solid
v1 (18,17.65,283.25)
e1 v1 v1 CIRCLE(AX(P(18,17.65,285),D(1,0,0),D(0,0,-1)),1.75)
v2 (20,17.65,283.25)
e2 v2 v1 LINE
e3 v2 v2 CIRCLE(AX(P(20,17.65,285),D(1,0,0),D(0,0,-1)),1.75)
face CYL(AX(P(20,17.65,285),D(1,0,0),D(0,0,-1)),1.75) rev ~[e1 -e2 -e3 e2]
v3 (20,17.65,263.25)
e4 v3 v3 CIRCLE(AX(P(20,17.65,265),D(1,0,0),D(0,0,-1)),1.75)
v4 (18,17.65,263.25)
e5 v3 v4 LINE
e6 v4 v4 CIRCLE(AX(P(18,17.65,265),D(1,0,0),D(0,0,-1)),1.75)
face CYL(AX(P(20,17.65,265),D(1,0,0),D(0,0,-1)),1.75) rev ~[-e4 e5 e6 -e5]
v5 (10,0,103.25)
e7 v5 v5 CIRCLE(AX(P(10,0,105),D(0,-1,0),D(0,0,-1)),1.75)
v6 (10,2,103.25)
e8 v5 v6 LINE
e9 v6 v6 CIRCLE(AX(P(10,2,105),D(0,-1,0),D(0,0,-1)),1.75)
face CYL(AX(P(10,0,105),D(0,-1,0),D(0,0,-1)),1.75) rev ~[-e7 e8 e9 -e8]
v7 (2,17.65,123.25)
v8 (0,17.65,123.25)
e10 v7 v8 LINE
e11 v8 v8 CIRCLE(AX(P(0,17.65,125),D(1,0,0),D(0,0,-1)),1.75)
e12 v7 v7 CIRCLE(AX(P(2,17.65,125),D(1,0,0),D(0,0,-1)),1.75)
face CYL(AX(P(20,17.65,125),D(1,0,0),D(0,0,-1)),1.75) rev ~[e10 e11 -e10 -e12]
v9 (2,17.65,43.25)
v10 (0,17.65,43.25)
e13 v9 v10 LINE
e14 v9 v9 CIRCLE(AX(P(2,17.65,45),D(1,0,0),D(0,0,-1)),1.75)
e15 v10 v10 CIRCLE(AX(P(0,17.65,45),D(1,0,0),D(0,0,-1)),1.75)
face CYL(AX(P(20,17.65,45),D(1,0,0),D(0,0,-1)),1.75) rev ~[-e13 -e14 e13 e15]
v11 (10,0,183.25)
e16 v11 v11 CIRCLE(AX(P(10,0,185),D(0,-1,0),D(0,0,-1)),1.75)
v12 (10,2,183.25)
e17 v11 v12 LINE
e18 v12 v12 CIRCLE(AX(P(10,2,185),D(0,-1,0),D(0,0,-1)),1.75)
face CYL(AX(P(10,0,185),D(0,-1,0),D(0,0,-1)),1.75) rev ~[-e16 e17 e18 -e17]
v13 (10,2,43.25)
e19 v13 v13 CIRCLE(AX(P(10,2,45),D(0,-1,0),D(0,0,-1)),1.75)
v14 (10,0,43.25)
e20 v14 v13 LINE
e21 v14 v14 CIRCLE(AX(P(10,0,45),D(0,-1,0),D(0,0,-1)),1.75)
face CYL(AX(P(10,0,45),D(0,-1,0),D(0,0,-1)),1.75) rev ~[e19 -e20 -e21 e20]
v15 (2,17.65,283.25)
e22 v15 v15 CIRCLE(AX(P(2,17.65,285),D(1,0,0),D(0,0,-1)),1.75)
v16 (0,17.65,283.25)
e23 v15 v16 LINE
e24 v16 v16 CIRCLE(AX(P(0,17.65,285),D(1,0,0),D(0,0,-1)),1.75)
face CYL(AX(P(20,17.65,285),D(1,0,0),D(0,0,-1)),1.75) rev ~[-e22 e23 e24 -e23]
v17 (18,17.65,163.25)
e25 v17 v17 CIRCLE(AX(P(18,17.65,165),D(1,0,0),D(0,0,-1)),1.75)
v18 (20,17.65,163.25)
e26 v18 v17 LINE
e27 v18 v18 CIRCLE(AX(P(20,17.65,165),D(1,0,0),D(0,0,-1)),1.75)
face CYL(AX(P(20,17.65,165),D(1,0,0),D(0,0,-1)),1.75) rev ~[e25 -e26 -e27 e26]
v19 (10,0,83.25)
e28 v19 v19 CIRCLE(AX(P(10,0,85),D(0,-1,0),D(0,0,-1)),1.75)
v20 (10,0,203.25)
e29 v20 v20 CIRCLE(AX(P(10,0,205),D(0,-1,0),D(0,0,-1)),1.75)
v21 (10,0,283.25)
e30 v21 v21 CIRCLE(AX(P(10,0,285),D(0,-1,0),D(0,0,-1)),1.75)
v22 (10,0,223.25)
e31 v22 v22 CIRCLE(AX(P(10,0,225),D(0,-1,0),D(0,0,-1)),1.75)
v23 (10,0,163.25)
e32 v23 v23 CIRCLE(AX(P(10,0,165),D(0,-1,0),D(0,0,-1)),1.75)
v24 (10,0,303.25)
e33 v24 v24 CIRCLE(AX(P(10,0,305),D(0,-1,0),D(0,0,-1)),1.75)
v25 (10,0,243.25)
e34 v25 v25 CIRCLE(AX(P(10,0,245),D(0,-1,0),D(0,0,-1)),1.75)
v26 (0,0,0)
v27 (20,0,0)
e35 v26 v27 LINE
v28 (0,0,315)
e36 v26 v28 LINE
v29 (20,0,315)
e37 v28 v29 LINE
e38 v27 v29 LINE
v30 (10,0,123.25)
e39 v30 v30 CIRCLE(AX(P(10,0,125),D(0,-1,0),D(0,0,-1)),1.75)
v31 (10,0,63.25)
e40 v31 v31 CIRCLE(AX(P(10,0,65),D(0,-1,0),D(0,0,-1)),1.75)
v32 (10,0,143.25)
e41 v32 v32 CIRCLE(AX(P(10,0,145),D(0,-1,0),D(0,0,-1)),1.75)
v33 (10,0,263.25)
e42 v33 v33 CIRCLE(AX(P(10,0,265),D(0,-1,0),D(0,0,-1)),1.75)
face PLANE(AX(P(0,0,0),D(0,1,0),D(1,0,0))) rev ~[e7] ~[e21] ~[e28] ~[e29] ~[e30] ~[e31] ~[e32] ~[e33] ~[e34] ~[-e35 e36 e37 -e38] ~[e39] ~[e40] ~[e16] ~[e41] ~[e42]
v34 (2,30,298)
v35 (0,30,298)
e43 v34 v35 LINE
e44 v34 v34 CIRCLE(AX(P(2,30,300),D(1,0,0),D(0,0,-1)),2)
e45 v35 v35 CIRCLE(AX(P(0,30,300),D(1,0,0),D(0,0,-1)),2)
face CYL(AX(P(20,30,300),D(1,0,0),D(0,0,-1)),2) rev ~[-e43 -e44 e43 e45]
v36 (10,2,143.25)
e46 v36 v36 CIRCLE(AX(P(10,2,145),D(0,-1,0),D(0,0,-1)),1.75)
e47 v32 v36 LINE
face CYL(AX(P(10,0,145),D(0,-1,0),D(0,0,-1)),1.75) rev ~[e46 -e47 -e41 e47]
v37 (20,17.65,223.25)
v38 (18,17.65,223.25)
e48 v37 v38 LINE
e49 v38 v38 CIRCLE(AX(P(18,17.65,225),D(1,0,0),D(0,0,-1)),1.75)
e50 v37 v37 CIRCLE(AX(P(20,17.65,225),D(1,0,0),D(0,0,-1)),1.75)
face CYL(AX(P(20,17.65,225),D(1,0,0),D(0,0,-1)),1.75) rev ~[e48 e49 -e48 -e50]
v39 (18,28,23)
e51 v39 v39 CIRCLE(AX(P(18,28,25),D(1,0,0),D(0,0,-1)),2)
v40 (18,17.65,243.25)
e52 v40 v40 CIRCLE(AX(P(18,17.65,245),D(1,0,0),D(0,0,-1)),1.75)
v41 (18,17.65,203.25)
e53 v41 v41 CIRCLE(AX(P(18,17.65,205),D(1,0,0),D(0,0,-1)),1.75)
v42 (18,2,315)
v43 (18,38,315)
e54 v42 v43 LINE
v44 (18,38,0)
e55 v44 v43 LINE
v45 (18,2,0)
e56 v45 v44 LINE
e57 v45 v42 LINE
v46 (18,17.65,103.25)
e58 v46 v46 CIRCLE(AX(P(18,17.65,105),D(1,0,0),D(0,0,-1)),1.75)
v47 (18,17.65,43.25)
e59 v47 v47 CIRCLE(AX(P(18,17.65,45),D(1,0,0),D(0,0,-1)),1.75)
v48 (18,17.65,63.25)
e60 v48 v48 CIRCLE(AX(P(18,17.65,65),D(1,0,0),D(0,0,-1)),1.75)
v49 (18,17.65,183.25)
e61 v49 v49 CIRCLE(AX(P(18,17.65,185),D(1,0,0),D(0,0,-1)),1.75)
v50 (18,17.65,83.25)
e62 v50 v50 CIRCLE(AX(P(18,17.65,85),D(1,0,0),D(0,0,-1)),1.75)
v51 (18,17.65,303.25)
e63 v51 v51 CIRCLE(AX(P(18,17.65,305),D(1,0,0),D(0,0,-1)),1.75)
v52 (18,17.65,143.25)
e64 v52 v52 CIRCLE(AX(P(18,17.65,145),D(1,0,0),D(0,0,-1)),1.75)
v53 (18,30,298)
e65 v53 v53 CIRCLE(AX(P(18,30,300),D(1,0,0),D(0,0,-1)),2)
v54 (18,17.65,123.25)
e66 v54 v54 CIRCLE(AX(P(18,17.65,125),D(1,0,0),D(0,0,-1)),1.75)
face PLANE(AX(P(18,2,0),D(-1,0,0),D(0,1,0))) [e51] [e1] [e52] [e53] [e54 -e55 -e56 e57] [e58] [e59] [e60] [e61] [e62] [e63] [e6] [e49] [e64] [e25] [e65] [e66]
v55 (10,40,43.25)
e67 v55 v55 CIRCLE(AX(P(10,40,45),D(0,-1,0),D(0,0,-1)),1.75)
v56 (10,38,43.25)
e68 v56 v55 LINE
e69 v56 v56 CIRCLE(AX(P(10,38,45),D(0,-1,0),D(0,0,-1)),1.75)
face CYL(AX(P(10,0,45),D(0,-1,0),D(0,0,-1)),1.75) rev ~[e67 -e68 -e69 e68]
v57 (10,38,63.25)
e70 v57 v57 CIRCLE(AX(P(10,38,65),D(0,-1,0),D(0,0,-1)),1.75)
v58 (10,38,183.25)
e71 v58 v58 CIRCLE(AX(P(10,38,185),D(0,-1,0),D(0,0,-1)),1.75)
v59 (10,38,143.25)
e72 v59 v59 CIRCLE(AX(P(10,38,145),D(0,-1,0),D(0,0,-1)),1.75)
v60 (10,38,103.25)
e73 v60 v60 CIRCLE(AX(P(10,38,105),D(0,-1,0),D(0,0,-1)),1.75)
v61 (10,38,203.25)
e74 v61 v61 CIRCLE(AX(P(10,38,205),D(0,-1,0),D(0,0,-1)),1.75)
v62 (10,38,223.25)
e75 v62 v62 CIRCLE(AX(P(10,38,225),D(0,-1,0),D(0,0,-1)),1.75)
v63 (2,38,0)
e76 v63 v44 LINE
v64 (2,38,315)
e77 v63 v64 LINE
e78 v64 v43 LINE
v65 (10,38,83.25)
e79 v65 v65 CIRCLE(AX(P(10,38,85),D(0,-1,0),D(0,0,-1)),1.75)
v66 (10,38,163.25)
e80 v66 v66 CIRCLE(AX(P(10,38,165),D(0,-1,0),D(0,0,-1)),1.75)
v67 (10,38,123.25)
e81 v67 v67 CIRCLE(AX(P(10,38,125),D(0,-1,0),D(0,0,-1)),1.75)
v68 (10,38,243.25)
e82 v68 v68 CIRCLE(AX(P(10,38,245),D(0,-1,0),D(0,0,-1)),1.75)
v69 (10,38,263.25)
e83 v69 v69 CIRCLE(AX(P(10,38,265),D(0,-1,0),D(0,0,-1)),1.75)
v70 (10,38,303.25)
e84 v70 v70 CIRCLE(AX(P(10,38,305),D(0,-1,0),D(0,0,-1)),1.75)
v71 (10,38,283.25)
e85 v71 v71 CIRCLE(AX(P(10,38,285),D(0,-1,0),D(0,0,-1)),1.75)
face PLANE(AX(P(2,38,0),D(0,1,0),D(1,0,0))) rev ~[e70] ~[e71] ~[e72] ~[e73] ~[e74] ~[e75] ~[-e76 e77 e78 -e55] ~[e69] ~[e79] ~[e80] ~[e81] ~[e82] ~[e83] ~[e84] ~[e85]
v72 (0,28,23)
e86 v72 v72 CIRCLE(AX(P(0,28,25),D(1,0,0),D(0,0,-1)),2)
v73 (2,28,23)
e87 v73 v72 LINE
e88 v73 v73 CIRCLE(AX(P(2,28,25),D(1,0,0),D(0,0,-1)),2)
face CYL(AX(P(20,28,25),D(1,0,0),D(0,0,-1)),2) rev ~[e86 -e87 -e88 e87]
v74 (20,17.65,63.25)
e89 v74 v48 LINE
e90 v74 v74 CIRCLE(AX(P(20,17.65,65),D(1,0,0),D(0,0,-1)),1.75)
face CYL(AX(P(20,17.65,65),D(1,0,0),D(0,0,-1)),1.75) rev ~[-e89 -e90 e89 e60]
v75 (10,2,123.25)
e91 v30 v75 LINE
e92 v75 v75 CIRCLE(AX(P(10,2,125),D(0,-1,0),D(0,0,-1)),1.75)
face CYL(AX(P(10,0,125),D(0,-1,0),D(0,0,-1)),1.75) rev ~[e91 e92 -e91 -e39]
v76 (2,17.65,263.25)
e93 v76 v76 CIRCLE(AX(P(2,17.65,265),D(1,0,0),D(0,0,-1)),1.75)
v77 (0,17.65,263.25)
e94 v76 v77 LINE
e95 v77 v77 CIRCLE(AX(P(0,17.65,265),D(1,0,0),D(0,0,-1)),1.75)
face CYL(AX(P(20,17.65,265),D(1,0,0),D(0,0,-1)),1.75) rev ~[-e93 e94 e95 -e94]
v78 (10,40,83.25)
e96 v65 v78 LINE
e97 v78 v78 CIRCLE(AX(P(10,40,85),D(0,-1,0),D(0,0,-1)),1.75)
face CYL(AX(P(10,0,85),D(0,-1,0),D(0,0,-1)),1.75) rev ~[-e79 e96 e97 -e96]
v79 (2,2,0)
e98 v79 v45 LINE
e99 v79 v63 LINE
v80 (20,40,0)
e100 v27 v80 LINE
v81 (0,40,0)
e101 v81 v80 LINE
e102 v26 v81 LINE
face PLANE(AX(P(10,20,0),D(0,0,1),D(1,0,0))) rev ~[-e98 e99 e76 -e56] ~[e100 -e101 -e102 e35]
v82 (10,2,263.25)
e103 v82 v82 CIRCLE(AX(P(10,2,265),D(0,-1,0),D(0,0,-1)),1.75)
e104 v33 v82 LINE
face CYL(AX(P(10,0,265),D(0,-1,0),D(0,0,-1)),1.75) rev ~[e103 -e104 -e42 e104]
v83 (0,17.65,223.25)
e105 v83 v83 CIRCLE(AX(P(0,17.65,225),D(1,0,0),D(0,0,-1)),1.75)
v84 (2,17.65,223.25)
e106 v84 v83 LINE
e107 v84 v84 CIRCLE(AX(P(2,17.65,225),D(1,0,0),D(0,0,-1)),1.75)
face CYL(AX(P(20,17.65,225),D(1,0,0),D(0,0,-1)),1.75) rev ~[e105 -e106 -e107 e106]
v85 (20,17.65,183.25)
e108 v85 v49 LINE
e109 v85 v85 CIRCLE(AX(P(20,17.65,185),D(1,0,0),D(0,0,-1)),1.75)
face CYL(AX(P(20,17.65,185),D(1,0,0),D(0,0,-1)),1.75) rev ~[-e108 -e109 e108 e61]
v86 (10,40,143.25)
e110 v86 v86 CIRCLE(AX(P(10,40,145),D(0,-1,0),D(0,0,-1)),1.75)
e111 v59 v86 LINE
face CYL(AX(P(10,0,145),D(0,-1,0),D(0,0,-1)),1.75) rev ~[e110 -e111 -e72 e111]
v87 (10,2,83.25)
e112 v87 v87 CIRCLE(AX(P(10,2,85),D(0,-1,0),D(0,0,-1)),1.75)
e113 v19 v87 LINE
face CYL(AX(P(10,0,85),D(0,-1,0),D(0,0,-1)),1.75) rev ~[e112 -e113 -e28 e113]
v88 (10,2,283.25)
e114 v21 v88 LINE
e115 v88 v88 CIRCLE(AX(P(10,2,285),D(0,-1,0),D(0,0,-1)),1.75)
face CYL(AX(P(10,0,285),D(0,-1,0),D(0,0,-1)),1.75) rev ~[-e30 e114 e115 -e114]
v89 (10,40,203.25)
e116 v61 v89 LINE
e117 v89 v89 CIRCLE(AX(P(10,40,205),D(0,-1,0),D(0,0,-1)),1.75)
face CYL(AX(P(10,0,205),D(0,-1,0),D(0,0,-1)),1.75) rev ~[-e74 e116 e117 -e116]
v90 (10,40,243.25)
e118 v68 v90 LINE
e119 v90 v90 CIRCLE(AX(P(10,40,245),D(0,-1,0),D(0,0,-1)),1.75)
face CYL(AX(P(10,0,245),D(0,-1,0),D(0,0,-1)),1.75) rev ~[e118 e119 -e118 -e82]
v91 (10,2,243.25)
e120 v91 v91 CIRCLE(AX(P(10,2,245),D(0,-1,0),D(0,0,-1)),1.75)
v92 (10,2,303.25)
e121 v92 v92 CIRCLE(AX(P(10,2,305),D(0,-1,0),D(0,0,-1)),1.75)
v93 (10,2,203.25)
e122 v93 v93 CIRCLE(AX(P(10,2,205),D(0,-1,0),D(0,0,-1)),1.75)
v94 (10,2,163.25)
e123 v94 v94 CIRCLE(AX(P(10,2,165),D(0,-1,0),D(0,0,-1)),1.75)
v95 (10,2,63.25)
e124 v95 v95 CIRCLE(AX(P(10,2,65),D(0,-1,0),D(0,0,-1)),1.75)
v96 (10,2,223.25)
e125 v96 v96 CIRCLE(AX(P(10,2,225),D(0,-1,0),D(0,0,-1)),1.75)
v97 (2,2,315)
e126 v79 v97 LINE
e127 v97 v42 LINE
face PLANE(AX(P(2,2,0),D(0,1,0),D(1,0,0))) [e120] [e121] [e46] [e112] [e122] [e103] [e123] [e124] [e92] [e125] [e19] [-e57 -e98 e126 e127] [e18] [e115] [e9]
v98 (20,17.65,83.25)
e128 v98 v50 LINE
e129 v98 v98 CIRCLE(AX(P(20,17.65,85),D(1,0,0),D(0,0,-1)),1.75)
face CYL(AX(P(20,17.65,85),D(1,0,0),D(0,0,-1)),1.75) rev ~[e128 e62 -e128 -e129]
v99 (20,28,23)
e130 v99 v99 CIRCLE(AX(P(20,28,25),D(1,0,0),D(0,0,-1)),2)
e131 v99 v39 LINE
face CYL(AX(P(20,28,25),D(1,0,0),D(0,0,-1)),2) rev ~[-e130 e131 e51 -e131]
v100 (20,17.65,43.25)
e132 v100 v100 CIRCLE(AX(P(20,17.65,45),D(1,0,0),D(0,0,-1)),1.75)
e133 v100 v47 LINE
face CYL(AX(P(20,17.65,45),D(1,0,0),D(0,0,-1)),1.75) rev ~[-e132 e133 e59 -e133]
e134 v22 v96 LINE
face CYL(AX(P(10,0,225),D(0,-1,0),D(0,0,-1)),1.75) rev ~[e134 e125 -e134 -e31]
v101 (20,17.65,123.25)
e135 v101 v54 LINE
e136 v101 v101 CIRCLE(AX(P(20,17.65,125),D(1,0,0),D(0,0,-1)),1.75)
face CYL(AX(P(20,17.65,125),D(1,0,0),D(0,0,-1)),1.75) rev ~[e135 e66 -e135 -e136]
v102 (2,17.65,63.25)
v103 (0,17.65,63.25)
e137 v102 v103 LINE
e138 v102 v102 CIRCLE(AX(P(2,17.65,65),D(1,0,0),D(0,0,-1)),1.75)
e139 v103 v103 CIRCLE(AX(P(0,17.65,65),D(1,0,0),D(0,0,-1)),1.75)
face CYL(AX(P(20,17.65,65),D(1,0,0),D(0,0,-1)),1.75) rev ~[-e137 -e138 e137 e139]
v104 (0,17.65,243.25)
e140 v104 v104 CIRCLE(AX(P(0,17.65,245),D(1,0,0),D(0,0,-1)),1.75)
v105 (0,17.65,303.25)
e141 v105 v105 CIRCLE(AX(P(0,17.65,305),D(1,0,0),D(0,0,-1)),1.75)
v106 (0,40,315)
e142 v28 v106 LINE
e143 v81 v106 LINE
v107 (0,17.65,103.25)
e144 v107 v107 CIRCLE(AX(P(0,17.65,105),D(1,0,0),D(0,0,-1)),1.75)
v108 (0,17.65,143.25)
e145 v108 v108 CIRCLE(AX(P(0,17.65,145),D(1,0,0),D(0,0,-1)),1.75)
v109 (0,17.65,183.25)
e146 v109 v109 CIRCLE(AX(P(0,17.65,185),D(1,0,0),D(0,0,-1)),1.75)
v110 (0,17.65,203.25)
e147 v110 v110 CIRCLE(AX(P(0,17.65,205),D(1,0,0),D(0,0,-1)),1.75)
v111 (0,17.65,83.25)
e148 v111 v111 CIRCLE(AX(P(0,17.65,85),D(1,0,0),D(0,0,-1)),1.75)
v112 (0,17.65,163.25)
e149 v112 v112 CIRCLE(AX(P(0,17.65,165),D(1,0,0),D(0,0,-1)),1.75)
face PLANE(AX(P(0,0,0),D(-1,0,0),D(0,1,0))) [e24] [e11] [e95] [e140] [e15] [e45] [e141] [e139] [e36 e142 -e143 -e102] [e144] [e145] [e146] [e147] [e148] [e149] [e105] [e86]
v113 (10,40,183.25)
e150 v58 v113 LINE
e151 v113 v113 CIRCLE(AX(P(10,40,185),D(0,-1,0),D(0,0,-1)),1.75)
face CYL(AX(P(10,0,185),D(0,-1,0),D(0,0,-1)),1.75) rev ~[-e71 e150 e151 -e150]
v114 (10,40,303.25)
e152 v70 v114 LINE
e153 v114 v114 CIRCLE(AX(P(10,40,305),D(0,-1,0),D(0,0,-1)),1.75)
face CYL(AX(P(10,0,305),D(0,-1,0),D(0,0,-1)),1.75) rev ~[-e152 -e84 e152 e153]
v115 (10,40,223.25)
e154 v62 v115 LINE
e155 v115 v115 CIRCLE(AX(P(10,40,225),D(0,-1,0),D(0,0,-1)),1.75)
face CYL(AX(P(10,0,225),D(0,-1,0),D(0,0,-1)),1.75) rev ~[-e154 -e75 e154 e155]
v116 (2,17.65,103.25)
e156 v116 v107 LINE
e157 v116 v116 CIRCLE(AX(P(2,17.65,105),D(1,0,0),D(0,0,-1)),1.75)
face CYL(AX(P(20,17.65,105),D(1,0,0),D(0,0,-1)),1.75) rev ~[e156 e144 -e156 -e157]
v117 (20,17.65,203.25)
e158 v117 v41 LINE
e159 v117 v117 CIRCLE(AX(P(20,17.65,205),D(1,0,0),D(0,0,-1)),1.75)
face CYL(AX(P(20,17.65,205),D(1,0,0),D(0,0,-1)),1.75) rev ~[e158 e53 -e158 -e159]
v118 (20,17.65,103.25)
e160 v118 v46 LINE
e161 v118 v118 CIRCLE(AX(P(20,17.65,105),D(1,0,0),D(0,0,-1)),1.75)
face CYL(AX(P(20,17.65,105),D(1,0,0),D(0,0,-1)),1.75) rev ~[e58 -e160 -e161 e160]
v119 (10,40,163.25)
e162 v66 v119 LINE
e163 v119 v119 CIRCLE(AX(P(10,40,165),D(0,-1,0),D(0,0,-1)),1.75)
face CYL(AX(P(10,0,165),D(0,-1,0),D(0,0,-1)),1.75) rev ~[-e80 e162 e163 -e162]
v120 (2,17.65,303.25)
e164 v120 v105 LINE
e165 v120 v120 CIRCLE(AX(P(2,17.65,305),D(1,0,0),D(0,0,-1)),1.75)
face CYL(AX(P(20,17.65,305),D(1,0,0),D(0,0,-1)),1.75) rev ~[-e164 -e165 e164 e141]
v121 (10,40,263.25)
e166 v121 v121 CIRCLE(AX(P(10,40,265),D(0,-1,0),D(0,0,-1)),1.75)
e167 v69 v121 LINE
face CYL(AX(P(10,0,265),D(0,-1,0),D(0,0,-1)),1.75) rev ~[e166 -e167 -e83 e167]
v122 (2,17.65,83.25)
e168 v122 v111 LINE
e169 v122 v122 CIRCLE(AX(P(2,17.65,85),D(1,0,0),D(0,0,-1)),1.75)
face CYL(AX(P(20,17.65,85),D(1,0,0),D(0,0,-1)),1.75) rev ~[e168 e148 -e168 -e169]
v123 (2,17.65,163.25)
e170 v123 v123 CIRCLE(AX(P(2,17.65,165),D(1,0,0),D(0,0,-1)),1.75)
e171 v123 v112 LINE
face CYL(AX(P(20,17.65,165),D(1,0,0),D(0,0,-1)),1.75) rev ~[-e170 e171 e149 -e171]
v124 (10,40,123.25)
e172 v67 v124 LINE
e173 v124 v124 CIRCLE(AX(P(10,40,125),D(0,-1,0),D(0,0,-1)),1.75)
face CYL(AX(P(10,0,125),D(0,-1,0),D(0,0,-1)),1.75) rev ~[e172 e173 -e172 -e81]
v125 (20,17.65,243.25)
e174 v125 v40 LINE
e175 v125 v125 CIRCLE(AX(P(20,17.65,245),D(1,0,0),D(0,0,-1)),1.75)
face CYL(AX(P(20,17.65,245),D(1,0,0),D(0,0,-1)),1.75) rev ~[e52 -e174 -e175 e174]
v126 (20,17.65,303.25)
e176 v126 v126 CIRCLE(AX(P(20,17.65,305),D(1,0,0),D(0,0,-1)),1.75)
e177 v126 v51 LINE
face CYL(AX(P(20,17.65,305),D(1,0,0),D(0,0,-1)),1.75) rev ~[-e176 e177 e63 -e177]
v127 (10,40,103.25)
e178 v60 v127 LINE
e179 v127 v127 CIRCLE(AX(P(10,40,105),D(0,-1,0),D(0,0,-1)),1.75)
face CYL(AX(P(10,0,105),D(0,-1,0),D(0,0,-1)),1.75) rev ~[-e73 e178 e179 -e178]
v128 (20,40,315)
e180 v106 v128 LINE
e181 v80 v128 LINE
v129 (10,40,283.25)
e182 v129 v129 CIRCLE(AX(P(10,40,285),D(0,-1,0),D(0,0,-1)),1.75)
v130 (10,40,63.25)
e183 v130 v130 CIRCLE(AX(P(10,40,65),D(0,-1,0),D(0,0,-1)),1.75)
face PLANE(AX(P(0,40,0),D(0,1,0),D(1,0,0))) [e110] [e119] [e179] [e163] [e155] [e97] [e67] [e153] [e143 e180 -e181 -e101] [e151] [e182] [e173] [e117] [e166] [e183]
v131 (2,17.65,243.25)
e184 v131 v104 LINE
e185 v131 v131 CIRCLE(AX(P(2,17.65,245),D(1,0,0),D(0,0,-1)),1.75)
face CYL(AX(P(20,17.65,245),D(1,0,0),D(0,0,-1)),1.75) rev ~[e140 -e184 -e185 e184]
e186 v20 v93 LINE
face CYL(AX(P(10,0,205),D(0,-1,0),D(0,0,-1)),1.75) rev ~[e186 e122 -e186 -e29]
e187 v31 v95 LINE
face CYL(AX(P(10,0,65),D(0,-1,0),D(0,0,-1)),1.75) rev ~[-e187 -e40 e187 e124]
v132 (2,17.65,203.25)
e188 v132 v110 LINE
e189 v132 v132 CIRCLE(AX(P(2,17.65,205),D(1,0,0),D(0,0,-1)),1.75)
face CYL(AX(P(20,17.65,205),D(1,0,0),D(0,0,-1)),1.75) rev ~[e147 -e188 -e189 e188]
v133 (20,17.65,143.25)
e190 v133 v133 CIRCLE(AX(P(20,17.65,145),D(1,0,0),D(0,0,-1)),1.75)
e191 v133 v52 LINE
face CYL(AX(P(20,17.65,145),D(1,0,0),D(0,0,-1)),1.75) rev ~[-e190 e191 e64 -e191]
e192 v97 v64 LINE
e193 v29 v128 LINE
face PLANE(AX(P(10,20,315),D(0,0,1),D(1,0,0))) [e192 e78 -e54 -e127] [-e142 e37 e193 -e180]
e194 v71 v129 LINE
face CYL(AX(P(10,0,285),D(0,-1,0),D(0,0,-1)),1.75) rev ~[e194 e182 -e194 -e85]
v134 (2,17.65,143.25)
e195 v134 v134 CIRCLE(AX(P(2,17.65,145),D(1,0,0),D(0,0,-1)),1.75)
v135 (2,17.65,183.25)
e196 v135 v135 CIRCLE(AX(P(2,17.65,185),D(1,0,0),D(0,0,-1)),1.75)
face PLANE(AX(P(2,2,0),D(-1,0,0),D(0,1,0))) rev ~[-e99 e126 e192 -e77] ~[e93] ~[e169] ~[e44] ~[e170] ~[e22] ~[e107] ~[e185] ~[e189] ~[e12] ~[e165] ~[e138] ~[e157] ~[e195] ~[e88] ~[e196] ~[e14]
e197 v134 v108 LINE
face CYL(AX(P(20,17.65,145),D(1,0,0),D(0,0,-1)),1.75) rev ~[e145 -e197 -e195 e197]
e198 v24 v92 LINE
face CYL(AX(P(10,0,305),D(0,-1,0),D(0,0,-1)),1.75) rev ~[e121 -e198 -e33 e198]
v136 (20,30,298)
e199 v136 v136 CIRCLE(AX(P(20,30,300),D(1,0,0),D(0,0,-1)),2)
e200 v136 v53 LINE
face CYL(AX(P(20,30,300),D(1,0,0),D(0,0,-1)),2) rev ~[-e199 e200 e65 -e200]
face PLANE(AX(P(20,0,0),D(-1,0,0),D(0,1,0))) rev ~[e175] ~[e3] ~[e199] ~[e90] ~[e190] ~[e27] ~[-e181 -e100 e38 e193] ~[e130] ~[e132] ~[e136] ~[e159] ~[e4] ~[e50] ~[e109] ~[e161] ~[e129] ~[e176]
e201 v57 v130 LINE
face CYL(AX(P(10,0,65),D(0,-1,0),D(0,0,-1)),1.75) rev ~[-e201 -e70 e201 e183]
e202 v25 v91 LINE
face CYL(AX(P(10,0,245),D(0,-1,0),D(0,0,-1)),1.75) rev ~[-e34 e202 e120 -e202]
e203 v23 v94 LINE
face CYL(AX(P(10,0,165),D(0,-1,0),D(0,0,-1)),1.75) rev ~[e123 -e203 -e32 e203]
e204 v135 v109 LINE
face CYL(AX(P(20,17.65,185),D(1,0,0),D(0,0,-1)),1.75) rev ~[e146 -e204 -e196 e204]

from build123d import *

# Parameters (mm, degrees)
SKETCH_1_W          = 20
SKETCH_1_H          = 40
SKETCH_1_W_2        = 16
SKETCH_1_H_2        = 36
EXTRUDE_1_DEPTH     = 315
SKETCH_2_R          = 2
CUT_EXTRUDE_1_DEPTH = 319.158765399
SKETCH_3_R          = 1.75
CUT_EXTRUDE_2_DEPTH = 319.158765399
SKETCH_5_R          = 1.75
CUT_EXTRUDE_4_DEPTH = 319.158765399


with BuildPart() as part:
    # 草图1 → 凸台-拉伸1 (new body)
    with BuildSketch(Plane.XY):
        with Locations((10, 20)):
            Rectangle(SKETCH_1_W, SKETCH_1_H)
        with Locations((10, 20)):
            Rectangle(SKETCH_1_W_2, SKETCH_1_H_2, mode=Mode.SUBTRACT)
    extrude(amount=EXTRUDE_1_DEPTH)

    # 草图2 → 切除-拉伸1 (cut, through all)
    with BuildSketch(Plane(origin=(20, 0, 0), x_dir=(0, 0, -1), z_dir=(1, 0, 0))):
        with Locations((-300, 30)):
            Circle(SKETCH_2_R)
        with Locations((-25, 28)):
            Circle(SKETCH_2_R)
    extrude(amount=-CUT_EXTRUDE_1_DEPTH, mode=Mode.SUBTRACT)

    # 草图3 → 切除-拉伸2 (cut, through all)
    with BuildSketch(Plane(origin=(0, 0, 0), x_dir=(-1, 0, 0), z_dir=(0, -1, 0))):
        with Locations(Location((-10, -305, 0), (0, 0, 90))):
            Circle(SKETCH_3_R)
        with Locations(Location((-10, -285, 0), (0, 0, 90))):
            Circle(SKETCH_3_R)
        with Locations(Location((-10, -265, 0), (0, 0, 90))):
            Circle(SKETCH_3_R)
        with Locations(Location((-10, -245, 0), (0, 0, 90))):
            Circle(SKETCH_3_R)
        with Locations(Location((-10, -225, 0), (0, 0, 90))):
            Circle(SKETCH_3_R)
        with Locations(Location((-10, -205, 0), (0, 0, 90))):
            Circle(SKETCH_3_R)
        with Locations(Location((-10, -185, 0), (0, 0, 90))):
            Circle(SKETCH_3_R)
        with Locations(Location((-10, -165, 0), (0, 0, 90))):
            Circle(SKETCH_3_R)
        with Locations(Location((-10, -145, 0), (0, 0, 90))):
            Circle(SKETCH_3_R)
        with Locations(Location((-10, -125, 0), (0, 0, 90))):
            Circle(SKETCH_3_R)
        with Locations(Location((-10, -105, 0), (0, 0, 90))):
            Circle(SKETCH_3_R)
        with Locations(Location((-10, -85, 0), (0, 0, 90))):
            Circle(SKETCH_3_R)
        with Locations(Location((-10, -65, 0), (0, 0, 90))):
            Circle(SKETCH_3_R)
        with Locations(Location((-10, -45, 0), (0, 0, 90))):
            Circle(SKETCH_3_R)
    extrude(amount=-CUT_EXTRUDE_2_DEPTH, mode=Mode.SUBTRACT)

    # 草图5 → 切除-拉伸4 (cut, through all)
    with BuildSketch(Plane(origin=(20, 0, 0), x_dir=(0, 0, -1), z_dir=(1, 0, 0))):
        with Locations((-305, 17.65)):
            Circle(SKETCH_5_R)
        with Locations((-285, 17.65)):
            Circle(SKETCH_5_R)
        with Locations((-265, 17.65)):
            Circle(SKETCH_5_R)
        with Locations((-245, 17.65)):
            Circle(SKETCH_5_R)
        with Locations((-225, 17.65)):
            Circle(SKETCH_5_R)
        with Locations((-205, 17.65)):
            Circle(SKETCH_5_R)
        with Locations((-185, 17.65)):
            Circle(SKETCH_5_R)
        with Locations((-165, 17.65)):
            Circle(SKETCH_5_R)
        with Locations((-145, 17.65)):
            Circle(SKETCH_5_R)
        with Locations((-125, 17.65)):
            Circle(SKETCH_5_R)
        with Locations((-105, 17.65)):
            Circle(SKETCH_5_R)
        with Locations((-85, 17.65)):
            Circle(SKETCH_5_R)
        with Locations((-65, 17.65)):
            Circle(SKETCH_5_R)
        with Locations((-45, 17.65)):
            Circle(SKETCH_5_R)
    extrude(amount=-CUT_EXTRUDE_4_DEPTH, mode=Mode.SUBTRACT)


solid = part.part
